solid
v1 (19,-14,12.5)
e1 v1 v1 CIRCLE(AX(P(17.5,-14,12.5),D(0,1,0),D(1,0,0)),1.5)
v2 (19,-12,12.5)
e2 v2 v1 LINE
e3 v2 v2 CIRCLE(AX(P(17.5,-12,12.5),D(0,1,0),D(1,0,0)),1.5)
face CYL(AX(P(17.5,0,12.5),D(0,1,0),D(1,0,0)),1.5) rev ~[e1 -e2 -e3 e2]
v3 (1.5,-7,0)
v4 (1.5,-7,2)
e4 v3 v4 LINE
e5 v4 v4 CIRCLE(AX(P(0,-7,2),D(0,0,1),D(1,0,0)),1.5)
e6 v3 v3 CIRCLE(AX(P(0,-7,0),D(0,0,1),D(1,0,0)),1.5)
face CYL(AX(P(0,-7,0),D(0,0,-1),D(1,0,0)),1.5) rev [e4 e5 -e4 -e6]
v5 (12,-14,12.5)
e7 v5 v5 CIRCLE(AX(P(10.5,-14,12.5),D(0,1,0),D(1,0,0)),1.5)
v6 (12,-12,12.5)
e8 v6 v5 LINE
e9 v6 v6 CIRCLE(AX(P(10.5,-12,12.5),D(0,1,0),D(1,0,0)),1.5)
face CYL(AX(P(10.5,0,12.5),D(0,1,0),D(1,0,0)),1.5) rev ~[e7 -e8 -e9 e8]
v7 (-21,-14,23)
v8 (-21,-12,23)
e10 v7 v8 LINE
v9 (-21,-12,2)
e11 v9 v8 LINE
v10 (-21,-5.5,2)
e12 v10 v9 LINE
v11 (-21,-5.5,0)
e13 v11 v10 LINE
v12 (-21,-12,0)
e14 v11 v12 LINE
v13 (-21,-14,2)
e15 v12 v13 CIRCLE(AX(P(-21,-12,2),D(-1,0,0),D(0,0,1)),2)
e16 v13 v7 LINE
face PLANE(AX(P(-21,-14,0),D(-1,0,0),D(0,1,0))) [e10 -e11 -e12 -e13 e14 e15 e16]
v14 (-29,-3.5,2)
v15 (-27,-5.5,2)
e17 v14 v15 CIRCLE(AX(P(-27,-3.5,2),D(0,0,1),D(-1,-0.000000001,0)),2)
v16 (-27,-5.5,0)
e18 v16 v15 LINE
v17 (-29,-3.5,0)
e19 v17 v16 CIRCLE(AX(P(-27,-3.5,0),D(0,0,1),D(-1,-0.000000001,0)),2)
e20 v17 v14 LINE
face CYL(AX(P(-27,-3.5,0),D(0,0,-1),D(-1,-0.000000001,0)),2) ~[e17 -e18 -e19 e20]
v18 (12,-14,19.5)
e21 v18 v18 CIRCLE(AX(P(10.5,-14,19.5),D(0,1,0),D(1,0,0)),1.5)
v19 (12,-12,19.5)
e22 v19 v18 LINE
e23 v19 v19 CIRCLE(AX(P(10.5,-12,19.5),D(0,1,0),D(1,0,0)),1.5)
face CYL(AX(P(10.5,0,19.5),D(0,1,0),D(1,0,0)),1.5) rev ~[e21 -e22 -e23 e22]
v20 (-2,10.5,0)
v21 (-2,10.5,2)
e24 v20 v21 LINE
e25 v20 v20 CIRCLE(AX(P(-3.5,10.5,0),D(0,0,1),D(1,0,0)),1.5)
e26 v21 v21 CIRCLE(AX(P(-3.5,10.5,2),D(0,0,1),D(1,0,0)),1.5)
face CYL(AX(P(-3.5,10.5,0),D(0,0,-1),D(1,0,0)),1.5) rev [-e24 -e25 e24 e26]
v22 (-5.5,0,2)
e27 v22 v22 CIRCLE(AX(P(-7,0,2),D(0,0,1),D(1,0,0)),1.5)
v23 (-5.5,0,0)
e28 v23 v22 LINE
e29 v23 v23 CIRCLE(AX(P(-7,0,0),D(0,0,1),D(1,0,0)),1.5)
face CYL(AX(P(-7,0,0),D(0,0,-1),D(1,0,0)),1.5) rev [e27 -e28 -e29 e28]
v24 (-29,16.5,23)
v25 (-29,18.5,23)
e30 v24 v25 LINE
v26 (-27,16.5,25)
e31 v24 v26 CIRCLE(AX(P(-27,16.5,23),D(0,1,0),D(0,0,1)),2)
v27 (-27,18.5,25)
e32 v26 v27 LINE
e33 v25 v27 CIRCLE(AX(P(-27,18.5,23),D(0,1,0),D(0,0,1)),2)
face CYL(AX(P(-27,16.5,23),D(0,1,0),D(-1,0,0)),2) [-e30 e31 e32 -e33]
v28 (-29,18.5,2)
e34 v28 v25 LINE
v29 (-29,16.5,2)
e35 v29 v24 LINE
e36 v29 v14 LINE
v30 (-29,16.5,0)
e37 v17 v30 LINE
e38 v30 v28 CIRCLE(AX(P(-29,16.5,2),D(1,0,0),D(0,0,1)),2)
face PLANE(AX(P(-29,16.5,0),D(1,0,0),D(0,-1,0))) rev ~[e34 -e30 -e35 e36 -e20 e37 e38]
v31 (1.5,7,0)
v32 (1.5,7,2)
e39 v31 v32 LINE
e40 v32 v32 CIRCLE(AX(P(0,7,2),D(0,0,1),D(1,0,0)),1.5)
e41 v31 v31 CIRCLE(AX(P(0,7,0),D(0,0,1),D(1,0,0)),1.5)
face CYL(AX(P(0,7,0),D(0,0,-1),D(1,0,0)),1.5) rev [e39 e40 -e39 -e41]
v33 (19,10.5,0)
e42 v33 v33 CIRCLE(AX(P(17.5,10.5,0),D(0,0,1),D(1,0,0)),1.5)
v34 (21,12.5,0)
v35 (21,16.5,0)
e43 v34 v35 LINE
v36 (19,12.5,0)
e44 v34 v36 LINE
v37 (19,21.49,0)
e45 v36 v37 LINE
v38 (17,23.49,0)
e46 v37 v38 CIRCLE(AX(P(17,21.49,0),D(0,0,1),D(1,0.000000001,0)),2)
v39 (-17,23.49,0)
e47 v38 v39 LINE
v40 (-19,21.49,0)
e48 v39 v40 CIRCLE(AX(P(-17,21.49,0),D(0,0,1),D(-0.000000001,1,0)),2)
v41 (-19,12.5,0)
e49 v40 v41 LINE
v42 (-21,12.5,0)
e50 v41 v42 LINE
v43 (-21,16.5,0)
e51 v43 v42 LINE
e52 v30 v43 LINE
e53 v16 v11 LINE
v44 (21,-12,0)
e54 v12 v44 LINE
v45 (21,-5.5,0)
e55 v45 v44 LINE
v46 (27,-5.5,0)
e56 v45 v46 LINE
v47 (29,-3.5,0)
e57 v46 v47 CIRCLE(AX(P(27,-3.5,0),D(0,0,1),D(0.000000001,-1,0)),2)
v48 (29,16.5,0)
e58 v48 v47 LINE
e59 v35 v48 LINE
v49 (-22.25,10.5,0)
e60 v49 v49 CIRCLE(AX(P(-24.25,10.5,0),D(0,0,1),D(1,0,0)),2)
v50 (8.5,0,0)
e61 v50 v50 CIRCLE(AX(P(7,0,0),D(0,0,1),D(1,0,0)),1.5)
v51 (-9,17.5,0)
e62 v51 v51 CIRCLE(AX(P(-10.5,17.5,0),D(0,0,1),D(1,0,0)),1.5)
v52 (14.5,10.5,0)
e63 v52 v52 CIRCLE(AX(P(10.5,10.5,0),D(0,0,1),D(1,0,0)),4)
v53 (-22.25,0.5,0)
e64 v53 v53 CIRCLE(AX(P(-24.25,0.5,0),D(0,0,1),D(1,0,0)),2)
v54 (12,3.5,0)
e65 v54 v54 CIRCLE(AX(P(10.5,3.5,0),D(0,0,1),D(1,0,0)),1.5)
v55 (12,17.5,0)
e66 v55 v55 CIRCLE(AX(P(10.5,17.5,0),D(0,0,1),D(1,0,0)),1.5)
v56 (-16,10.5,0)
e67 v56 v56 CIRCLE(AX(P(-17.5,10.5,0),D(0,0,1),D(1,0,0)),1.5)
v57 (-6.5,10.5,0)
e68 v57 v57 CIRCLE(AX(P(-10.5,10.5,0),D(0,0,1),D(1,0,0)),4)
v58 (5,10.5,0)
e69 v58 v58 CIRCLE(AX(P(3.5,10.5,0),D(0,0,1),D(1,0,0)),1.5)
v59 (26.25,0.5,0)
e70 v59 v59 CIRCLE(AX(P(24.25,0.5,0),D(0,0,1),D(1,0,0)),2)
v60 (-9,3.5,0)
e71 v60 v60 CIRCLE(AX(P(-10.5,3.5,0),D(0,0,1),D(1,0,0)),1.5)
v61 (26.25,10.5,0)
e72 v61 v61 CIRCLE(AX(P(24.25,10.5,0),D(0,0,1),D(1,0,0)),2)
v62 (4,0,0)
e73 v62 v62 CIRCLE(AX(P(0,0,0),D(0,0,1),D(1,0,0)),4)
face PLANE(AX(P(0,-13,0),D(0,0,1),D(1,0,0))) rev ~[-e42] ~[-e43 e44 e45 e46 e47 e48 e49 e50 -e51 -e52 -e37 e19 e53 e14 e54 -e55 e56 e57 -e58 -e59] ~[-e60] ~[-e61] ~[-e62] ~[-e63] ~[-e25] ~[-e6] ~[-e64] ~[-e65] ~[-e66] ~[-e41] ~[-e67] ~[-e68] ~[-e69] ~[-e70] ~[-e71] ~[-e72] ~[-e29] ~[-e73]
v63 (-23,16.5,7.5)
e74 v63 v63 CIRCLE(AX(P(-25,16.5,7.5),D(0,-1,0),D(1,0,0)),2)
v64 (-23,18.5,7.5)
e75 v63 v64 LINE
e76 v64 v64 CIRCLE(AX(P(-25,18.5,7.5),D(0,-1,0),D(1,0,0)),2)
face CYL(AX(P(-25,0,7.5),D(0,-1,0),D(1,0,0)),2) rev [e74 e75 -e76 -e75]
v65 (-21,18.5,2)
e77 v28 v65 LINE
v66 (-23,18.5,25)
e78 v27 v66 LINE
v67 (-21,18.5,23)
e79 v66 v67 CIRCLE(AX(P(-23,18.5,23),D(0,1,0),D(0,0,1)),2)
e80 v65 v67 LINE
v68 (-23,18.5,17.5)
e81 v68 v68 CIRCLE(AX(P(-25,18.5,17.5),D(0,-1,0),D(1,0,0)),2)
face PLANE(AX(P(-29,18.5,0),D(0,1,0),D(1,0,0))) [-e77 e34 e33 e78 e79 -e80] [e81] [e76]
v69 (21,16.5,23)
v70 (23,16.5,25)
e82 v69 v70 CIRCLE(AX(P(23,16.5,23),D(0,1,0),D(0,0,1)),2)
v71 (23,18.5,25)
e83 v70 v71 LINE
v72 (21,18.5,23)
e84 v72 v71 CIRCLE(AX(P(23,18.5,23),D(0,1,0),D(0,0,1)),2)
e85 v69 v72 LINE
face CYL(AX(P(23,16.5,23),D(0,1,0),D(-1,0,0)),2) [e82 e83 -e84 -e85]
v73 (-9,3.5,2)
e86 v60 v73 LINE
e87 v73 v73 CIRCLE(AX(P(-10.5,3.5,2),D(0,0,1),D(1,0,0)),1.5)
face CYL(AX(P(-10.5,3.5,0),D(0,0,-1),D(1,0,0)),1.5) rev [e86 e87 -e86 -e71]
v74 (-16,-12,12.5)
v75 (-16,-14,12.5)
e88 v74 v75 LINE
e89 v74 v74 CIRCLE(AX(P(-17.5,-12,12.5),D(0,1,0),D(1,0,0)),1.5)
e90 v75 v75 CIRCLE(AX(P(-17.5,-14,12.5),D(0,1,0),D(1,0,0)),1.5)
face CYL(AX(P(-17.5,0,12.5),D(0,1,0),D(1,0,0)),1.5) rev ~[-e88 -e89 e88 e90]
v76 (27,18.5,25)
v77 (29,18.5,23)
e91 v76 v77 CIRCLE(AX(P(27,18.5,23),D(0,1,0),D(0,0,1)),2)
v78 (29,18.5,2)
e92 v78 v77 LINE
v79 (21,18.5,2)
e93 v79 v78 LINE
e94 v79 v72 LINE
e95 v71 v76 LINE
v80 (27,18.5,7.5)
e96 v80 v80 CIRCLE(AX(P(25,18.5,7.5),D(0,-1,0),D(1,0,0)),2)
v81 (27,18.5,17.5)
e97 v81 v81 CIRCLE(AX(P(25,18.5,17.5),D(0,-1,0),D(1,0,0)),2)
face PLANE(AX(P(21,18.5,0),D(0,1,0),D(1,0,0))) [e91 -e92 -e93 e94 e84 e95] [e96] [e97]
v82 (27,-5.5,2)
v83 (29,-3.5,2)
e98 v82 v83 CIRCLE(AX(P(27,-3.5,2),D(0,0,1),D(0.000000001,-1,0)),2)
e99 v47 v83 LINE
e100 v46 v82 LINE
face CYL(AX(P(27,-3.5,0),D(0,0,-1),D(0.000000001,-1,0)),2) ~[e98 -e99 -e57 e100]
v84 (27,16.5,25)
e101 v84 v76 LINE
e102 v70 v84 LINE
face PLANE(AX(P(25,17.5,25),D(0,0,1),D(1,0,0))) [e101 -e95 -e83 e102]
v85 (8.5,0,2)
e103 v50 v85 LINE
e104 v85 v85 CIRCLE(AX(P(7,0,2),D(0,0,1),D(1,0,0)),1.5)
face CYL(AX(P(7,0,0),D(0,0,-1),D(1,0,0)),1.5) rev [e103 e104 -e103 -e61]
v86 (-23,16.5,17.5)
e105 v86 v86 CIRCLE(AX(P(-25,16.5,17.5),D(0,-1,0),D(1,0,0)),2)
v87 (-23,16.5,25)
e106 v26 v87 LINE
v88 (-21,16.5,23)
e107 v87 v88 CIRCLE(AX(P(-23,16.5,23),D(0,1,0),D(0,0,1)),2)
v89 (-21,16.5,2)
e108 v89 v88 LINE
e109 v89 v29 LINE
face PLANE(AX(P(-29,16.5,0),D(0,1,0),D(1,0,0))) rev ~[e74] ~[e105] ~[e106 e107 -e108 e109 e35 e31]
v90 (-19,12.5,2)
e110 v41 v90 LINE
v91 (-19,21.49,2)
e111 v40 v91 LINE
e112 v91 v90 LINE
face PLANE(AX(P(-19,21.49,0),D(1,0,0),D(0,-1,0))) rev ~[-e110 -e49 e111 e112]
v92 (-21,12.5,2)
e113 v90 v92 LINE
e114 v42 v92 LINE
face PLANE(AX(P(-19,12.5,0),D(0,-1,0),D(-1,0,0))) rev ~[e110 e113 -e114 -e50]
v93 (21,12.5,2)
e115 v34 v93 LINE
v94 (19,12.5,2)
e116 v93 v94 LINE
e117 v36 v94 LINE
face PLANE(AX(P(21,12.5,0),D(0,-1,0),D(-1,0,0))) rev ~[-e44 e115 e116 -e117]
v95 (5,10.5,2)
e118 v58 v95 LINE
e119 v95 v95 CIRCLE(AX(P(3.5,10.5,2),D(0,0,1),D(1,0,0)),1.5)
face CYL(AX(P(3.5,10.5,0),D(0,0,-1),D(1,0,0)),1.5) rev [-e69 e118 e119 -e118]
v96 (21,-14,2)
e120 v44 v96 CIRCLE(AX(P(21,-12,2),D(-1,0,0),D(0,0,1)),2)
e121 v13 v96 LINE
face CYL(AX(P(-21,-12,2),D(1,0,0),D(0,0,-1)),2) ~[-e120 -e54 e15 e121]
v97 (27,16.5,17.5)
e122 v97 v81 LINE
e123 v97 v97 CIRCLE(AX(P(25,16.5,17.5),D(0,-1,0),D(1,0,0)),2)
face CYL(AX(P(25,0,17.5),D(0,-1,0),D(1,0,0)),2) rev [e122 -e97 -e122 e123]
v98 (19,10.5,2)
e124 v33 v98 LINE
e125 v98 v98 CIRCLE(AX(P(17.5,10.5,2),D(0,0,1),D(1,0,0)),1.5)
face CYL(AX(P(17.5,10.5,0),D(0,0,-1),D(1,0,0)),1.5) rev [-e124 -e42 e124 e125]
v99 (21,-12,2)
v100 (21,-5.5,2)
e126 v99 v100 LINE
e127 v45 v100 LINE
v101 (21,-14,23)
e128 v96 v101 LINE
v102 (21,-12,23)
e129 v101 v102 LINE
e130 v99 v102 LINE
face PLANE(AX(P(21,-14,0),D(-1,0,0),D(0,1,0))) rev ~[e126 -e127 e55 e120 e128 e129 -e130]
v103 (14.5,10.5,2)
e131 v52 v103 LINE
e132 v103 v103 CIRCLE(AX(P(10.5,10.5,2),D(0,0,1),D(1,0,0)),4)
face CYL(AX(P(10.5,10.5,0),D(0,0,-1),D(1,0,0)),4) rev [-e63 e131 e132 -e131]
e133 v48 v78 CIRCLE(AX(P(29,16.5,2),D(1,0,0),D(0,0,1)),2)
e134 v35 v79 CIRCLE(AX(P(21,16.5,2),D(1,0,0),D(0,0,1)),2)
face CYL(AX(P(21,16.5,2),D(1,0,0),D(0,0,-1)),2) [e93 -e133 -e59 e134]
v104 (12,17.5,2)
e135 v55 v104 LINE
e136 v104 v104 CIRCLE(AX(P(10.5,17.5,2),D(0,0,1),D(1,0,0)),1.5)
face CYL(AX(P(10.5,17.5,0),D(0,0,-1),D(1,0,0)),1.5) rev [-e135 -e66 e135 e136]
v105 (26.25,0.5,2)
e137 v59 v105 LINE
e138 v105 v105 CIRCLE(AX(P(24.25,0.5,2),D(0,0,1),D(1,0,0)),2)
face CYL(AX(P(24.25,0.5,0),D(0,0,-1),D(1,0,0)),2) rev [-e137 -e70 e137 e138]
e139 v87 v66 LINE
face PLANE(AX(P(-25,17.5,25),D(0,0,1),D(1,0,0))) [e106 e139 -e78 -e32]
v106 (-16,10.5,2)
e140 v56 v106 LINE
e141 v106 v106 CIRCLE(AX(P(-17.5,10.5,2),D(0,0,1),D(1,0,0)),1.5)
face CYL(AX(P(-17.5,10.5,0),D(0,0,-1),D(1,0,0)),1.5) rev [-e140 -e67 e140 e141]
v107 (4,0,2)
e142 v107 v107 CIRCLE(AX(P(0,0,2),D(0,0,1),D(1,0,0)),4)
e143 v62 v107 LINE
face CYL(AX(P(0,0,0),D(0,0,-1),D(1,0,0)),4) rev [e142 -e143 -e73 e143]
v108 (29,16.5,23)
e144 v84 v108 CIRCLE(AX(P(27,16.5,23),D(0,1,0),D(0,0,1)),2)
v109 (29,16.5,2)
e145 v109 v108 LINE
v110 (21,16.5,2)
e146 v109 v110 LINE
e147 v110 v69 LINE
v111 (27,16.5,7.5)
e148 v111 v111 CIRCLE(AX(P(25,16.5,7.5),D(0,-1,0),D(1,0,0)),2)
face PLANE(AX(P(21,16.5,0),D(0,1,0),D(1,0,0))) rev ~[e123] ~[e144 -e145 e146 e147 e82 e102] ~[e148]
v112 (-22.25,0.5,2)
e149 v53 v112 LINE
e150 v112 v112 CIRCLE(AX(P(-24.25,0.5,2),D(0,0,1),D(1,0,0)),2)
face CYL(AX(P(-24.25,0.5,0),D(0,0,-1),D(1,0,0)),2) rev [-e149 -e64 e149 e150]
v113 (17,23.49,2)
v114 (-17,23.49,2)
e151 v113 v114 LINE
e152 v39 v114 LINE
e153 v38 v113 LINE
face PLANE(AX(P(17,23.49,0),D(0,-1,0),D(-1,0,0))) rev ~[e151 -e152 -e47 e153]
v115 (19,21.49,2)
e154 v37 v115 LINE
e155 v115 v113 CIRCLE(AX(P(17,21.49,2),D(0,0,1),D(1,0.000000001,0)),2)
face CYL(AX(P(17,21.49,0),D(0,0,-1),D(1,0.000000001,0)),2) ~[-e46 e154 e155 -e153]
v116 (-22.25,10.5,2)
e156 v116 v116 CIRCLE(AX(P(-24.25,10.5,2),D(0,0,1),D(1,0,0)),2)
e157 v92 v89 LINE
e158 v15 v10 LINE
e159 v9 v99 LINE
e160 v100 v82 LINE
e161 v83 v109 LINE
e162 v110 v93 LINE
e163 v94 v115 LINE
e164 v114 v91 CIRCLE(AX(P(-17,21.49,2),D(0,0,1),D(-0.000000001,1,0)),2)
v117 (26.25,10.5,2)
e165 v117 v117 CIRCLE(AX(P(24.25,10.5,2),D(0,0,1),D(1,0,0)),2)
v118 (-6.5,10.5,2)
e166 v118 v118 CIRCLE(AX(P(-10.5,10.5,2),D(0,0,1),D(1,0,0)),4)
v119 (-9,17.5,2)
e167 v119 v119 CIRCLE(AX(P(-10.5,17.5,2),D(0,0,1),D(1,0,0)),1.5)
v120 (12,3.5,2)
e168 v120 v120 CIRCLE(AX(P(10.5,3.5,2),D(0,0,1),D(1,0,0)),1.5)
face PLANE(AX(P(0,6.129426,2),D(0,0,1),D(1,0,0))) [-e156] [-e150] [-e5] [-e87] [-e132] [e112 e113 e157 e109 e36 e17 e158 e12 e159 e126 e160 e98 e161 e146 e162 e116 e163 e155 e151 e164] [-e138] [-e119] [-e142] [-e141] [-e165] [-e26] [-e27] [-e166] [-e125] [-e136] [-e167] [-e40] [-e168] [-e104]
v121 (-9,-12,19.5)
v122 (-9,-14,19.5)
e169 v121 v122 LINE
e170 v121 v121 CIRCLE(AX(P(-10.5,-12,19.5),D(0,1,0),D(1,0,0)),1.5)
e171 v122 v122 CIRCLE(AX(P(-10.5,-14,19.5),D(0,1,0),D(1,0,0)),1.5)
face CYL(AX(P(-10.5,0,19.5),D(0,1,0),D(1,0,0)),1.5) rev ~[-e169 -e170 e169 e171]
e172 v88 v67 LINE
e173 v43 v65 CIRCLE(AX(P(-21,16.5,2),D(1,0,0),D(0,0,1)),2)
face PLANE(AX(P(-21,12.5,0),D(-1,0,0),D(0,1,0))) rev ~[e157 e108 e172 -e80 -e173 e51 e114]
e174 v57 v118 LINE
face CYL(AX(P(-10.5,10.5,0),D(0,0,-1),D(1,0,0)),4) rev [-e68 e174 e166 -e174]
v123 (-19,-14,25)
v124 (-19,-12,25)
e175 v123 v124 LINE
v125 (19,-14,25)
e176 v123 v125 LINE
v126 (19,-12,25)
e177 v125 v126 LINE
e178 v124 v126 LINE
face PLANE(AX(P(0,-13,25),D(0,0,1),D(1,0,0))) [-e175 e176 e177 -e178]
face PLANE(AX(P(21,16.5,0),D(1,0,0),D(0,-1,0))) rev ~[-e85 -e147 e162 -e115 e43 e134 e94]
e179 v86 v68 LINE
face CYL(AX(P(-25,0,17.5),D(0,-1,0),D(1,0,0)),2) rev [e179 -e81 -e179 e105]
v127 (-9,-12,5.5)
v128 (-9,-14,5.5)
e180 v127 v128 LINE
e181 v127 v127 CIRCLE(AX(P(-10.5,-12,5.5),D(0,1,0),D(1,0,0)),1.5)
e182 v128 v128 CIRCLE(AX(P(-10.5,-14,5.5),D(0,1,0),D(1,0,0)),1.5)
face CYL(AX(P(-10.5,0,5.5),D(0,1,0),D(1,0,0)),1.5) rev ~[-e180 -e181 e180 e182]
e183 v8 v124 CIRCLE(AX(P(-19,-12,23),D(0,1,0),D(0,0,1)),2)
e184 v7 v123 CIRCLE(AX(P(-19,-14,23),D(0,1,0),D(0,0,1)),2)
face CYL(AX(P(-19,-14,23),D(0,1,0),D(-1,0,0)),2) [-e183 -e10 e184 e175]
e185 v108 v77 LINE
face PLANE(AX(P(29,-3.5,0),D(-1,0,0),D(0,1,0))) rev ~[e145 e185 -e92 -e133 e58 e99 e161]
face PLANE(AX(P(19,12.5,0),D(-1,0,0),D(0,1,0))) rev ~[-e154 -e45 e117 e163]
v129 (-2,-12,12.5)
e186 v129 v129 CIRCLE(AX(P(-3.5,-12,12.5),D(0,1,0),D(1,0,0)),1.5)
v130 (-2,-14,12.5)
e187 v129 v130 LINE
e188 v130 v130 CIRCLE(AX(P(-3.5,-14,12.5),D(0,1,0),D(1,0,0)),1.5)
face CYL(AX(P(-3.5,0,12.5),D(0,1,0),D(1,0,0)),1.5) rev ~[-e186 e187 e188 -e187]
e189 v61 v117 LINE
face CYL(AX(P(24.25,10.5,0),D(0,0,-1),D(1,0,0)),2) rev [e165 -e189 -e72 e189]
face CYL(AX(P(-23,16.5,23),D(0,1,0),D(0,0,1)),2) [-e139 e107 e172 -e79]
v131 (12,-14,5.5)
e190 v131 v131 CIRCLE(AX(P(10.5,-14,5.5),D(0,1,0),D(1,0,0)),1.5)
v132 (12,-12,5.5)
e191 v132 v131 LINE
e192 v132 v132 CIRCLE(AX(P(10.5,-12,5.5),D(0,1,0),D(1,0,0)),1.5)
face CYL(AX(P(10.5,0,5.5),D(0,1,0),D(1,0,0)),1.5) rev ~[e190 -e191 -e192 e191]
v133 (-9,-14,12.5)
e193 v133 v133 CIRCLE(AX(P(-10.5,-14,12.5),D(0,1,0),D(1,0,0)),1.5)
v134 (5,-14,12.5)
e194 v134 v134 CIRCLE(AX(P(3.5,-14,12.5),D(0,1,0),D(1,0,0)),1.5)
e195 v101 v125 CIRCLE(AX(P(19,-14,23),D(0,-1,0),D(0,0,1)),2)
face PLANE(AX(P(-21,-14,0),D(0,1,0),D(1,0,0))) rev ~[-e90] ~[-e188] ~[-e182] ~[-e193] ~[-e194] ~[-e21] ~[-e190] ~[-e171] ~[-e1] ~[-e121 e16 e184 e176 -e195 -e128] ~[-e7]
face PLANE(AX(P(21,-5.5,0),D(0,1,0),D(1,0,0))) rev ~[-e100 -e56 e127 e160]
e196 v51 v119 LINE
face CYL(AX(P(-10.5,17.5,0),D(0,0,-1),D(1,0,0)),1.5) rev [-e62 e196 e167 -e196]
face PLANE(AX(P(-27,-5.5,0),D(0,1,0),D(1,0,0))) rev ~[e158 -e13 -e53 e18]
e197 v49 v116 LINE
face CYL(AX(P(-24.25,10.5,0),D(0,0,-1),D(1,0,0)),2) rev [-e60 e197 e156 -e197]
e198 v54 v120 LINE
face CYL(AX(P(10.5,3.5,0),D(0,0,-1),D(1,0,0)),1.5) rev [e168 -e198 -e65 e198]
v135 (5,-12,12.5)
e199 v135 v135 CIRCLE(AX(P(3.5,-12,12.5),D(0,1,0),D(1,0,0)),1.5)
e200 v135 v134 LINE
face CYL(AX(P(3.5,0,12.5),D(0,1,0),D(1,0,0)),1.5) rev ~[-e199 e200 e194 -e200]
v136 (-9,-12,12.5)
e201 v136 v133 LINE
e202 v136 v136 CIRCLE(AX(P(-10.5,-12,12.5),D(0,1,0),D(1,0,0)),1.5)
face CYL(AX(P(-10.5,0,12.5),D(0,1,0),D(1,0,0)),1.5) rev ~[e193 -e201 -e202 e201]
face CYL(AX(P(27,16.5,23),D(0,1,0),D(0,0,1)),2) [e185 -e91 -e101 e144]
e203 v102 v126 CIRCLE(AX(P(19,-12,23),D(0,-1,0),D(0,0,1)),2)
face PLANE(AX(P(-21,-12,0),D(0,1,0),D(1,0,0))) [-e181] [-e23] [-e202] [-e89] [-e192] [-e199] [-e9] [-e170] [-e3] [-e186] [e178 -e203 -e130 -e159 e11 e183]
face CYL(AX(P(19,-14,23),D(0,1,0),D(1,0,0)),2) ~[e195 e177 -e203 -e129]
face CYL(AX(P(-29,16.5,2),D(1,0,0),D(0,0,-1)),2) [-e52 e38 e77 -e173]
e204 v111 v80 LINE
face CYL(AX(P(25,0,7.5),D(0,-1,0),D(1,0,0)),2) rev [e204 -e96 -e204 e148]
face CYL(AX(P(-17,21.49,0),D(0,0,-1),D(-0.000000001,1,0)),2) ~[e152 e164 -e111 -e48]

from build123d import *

# Parameters (mm, degrees)
CROQUIS1_R                 = 1.5
CROQUIS1_R_2               = 2
CROQUIS1_R_3               = 4
SALIENTE_EXTRUIR1_DEPTH    = 2
CROQUIS2_W                 = 42
CROQUIS2_H                 = 2
CROQUIS2_W_2               = 8
SALIENTE_EXTRUIR2_DEPTH    = 25
REDONDEO2_R                = 2
CROQUIS3_R                 = 1.5
CROQUIS3_R_2               = 2
CORTAR_EXTRUIR1_DEPTH      = 25
CORTAR_EXTRUIR1_DEPTH_BACK = 25


with BuildPart() as part:
    # Croquis1 → Saliente-Extruir1 (new body)
    with BuildSketch(Plane.XY):
        with BuildLine():
            Line((-21, -12), (21, -12))
            Line((21, -12), (21, -5.5))
            Line((21, -5.5), (27, -5.5))
            ThreePointArc((27, -5.5), (28.414213562, -4.914213562), (29, -3.5))
            Line((29, -3.5), (29, 16.5))
            Line((29, 16.5), (21, 16.5))
            Line((21, 16.5), (21, 12.5))
            Line((21, 12.5), (19, 12.5))
            Line((19, 12.5), (19, 21.49))
            ThreePointArc((19, 21.49), (18.414213562, 22.904213562), (17, 23.49))
            Line((17, 23.49), (-17, 23.49))
            ThreePointArc((-17, 23.49), (-18.414213562, 22.904213562), (-19, 21.49))
            Line((-19, 21.49), (-19, 12.5))
            Line((-19, 12.5), (-21, 12.5))
            Line((-21, 12.5), (-21, 16.5))
            Line((-21, 16.5), (-29, 16.5))
            Line((-29, 16.5), (-29, -3.5))
            ThreePointArc((-29, -3.5), (-28.414213562, -4.914213562), (-27, -5.5))
            Line((-27, -5.5), (-21, -5.5))
            Line((-21, -5.5), (-21, -12))
        make_face()
        with Locations((0, 7)):
            Circle(CROQUIS1_R, mode=Mode.SUBTRACT)
        with Locations((7, 0)):
            Circle(CROQUIS1_R, mode=Mode.SUBTRACT)
        with Locations((0, -7)):
            Circle(CROQUIS1_R, mode=Mode.SUBTRACT)
        with Locations((-7, 0)):
            Circle(CROQUIS1_R, mode=Mode.SUBTRACT)
        with Locations((-24.25, 10.5)):
            Circle(CROQUIS1_R_2, mode=Mode.SUBTRACT)
        with Locations((24.25, 10.5)):
            Circle(CROQUIS1_R_2, mode=Mode.SUBTRACT)
        with Locations((-24.25, 0.5)):
            Circle(CROQUIS1_R_2, mode=Mode.SUBTRACT)
        Circle(CROQUIS1_R_3, mode=Mode.SUBTRACT)
        with Locations((10.5, 17.5)):
            Circle(CROQUIS1_R, mode=Mode.SUBTRACT)
        with Locations((17.5, 10.5)):
            Circle(CROQUIS1_R, mode=Mode.SUBTRACT)
        with Locations((10.5, 3.5)):
            Circle(CROQUIS1_R, mode=Mode.SUBTRACT)
        with Locations((3.5, 10.5)):
            Circle(CROQUIS1_R, mode=Mode.SUBTRACT)
        with Locations((-10.5, 17.5)):
            Circle(CROQUIS1_R, mode=Mode.SUBTRACT)
        with Locations((-3.5, 10.5)):
            Circle(CROQUIS1_R, mode=Mode.SUBTRACT)
        with Locations((-10.5, 3.5)):
            Circle(CROQUIS1_R, mode=Mode.SUBTRACT)
        with Locations((-17.5, 10.5)):
            Circle(CROQUIS1_R, mode=Mode.SUBTRACT)
        with Locations((-10.5, 10.5)):
            Circle(CROQUIS1_R_3, mode=Mode.SUBTRACT)
        with Locations((10.5, 10.5)):
            Circle(CROQUIS1_R_3, mode=Mode.SUBTRACT)
        with Locations((24.25, 0.5)):
            Circle(CROQUIS1_R_2, mode=Mode.SUBTRACT)
    extrude(amount=SALIENTE_EXTRUIR1_DEPTH)

    # Croquis2 → Saliente-Extruir2 (add)
    with BuildSketch(Plane.XY):
        with Locations((0, -13)):
            Rectangle(CROQUIS2_W, CROQUIS2_H)
        with Locations((-25, 17.5)):
            Rectangle(CROQUIS2_W_2, CROQUIS2_H)
        with Locations((25, 17.5)):
            Rectangle(CROQUIS2_W_2, CROQUIS2_H)
    extrude(amount=SALIENTE_EXTRUIR2_DEPTH)

    # Redondeo2
    redondeo2_edges = [part.edges().sort_by_distance(p)[0] for p in [
        (0, -14, 0),
        (-21, -13, 25),
        (21, -13, 25),
        (-25, 18.5, 0),
        (-21, 17.5, 25),
        (-29, 17.5, 25),
        (25, 18.5, 0),
        (29, 17.5, 25),
        (21, 17.5, 25),
    ]]
    fillet(redondeo2_edges, radius=REDONDEO2_R)

    # Croquis3 → Cortar-Extruir1 (cut, two sides)
    with BuildSketch(Plane(origin=(0, 0, 0), x_dir=(1, 0, 0), z_dir=(0, 1, 0))) as cortar_extruir1_sk:
        with Locations((-10.5, -12.5)):
            Circle(CROQUIS3_R)
        with Locations((10.5, -12.5)):
            Circle(CROQUIS3_R)
        with Locations((-10.5, -5.5)):
            Circle(CROQUIS3_R)
        with Locations((-3.5, -12.5)):
            Circle(CROQUIS3_R)
        with Locations((-10.5, -19.5)):
            Circle(CROQUIS3_R)
        with Locations((-17.5, -12.5)):
            Circle(CROQUIS3_R)
        with Locations((3.5, -12.5)):
            Circle(CROQUIS3_R)
        with Locations((10.5, -19.5)):
            Circle(CROQUIS3_R)
        with Locations((10.5, -5.5)):
            Circle(CROQUIS3_R)
        with Locations((17.5, -12.5)):
            Circle(CROQUIS3_R)
        with Locations((-25, -7.5)):
            Circle(CROQUIS3_R_2)
        with Locations((-25, -17.5)):
            Circle(CROQUIS3_R_2)
        with Locations((25, -17.5)):
            Circle(CROQUIS3_R_2)
        with Locations((25, -7.5)):
            Circle(CROQUIS3_R_2)
    extrude(amount=CORTAR_EXTRUIR1_DEPTH, mode=Mode.SUBTRACT)
    extrude(cortar_extruir1_sk.sketch, amount=-CORTAR_EXTRUIR1_DEPTH_BACK, mode=Mode.SUBTRACT)


solid = part.part
